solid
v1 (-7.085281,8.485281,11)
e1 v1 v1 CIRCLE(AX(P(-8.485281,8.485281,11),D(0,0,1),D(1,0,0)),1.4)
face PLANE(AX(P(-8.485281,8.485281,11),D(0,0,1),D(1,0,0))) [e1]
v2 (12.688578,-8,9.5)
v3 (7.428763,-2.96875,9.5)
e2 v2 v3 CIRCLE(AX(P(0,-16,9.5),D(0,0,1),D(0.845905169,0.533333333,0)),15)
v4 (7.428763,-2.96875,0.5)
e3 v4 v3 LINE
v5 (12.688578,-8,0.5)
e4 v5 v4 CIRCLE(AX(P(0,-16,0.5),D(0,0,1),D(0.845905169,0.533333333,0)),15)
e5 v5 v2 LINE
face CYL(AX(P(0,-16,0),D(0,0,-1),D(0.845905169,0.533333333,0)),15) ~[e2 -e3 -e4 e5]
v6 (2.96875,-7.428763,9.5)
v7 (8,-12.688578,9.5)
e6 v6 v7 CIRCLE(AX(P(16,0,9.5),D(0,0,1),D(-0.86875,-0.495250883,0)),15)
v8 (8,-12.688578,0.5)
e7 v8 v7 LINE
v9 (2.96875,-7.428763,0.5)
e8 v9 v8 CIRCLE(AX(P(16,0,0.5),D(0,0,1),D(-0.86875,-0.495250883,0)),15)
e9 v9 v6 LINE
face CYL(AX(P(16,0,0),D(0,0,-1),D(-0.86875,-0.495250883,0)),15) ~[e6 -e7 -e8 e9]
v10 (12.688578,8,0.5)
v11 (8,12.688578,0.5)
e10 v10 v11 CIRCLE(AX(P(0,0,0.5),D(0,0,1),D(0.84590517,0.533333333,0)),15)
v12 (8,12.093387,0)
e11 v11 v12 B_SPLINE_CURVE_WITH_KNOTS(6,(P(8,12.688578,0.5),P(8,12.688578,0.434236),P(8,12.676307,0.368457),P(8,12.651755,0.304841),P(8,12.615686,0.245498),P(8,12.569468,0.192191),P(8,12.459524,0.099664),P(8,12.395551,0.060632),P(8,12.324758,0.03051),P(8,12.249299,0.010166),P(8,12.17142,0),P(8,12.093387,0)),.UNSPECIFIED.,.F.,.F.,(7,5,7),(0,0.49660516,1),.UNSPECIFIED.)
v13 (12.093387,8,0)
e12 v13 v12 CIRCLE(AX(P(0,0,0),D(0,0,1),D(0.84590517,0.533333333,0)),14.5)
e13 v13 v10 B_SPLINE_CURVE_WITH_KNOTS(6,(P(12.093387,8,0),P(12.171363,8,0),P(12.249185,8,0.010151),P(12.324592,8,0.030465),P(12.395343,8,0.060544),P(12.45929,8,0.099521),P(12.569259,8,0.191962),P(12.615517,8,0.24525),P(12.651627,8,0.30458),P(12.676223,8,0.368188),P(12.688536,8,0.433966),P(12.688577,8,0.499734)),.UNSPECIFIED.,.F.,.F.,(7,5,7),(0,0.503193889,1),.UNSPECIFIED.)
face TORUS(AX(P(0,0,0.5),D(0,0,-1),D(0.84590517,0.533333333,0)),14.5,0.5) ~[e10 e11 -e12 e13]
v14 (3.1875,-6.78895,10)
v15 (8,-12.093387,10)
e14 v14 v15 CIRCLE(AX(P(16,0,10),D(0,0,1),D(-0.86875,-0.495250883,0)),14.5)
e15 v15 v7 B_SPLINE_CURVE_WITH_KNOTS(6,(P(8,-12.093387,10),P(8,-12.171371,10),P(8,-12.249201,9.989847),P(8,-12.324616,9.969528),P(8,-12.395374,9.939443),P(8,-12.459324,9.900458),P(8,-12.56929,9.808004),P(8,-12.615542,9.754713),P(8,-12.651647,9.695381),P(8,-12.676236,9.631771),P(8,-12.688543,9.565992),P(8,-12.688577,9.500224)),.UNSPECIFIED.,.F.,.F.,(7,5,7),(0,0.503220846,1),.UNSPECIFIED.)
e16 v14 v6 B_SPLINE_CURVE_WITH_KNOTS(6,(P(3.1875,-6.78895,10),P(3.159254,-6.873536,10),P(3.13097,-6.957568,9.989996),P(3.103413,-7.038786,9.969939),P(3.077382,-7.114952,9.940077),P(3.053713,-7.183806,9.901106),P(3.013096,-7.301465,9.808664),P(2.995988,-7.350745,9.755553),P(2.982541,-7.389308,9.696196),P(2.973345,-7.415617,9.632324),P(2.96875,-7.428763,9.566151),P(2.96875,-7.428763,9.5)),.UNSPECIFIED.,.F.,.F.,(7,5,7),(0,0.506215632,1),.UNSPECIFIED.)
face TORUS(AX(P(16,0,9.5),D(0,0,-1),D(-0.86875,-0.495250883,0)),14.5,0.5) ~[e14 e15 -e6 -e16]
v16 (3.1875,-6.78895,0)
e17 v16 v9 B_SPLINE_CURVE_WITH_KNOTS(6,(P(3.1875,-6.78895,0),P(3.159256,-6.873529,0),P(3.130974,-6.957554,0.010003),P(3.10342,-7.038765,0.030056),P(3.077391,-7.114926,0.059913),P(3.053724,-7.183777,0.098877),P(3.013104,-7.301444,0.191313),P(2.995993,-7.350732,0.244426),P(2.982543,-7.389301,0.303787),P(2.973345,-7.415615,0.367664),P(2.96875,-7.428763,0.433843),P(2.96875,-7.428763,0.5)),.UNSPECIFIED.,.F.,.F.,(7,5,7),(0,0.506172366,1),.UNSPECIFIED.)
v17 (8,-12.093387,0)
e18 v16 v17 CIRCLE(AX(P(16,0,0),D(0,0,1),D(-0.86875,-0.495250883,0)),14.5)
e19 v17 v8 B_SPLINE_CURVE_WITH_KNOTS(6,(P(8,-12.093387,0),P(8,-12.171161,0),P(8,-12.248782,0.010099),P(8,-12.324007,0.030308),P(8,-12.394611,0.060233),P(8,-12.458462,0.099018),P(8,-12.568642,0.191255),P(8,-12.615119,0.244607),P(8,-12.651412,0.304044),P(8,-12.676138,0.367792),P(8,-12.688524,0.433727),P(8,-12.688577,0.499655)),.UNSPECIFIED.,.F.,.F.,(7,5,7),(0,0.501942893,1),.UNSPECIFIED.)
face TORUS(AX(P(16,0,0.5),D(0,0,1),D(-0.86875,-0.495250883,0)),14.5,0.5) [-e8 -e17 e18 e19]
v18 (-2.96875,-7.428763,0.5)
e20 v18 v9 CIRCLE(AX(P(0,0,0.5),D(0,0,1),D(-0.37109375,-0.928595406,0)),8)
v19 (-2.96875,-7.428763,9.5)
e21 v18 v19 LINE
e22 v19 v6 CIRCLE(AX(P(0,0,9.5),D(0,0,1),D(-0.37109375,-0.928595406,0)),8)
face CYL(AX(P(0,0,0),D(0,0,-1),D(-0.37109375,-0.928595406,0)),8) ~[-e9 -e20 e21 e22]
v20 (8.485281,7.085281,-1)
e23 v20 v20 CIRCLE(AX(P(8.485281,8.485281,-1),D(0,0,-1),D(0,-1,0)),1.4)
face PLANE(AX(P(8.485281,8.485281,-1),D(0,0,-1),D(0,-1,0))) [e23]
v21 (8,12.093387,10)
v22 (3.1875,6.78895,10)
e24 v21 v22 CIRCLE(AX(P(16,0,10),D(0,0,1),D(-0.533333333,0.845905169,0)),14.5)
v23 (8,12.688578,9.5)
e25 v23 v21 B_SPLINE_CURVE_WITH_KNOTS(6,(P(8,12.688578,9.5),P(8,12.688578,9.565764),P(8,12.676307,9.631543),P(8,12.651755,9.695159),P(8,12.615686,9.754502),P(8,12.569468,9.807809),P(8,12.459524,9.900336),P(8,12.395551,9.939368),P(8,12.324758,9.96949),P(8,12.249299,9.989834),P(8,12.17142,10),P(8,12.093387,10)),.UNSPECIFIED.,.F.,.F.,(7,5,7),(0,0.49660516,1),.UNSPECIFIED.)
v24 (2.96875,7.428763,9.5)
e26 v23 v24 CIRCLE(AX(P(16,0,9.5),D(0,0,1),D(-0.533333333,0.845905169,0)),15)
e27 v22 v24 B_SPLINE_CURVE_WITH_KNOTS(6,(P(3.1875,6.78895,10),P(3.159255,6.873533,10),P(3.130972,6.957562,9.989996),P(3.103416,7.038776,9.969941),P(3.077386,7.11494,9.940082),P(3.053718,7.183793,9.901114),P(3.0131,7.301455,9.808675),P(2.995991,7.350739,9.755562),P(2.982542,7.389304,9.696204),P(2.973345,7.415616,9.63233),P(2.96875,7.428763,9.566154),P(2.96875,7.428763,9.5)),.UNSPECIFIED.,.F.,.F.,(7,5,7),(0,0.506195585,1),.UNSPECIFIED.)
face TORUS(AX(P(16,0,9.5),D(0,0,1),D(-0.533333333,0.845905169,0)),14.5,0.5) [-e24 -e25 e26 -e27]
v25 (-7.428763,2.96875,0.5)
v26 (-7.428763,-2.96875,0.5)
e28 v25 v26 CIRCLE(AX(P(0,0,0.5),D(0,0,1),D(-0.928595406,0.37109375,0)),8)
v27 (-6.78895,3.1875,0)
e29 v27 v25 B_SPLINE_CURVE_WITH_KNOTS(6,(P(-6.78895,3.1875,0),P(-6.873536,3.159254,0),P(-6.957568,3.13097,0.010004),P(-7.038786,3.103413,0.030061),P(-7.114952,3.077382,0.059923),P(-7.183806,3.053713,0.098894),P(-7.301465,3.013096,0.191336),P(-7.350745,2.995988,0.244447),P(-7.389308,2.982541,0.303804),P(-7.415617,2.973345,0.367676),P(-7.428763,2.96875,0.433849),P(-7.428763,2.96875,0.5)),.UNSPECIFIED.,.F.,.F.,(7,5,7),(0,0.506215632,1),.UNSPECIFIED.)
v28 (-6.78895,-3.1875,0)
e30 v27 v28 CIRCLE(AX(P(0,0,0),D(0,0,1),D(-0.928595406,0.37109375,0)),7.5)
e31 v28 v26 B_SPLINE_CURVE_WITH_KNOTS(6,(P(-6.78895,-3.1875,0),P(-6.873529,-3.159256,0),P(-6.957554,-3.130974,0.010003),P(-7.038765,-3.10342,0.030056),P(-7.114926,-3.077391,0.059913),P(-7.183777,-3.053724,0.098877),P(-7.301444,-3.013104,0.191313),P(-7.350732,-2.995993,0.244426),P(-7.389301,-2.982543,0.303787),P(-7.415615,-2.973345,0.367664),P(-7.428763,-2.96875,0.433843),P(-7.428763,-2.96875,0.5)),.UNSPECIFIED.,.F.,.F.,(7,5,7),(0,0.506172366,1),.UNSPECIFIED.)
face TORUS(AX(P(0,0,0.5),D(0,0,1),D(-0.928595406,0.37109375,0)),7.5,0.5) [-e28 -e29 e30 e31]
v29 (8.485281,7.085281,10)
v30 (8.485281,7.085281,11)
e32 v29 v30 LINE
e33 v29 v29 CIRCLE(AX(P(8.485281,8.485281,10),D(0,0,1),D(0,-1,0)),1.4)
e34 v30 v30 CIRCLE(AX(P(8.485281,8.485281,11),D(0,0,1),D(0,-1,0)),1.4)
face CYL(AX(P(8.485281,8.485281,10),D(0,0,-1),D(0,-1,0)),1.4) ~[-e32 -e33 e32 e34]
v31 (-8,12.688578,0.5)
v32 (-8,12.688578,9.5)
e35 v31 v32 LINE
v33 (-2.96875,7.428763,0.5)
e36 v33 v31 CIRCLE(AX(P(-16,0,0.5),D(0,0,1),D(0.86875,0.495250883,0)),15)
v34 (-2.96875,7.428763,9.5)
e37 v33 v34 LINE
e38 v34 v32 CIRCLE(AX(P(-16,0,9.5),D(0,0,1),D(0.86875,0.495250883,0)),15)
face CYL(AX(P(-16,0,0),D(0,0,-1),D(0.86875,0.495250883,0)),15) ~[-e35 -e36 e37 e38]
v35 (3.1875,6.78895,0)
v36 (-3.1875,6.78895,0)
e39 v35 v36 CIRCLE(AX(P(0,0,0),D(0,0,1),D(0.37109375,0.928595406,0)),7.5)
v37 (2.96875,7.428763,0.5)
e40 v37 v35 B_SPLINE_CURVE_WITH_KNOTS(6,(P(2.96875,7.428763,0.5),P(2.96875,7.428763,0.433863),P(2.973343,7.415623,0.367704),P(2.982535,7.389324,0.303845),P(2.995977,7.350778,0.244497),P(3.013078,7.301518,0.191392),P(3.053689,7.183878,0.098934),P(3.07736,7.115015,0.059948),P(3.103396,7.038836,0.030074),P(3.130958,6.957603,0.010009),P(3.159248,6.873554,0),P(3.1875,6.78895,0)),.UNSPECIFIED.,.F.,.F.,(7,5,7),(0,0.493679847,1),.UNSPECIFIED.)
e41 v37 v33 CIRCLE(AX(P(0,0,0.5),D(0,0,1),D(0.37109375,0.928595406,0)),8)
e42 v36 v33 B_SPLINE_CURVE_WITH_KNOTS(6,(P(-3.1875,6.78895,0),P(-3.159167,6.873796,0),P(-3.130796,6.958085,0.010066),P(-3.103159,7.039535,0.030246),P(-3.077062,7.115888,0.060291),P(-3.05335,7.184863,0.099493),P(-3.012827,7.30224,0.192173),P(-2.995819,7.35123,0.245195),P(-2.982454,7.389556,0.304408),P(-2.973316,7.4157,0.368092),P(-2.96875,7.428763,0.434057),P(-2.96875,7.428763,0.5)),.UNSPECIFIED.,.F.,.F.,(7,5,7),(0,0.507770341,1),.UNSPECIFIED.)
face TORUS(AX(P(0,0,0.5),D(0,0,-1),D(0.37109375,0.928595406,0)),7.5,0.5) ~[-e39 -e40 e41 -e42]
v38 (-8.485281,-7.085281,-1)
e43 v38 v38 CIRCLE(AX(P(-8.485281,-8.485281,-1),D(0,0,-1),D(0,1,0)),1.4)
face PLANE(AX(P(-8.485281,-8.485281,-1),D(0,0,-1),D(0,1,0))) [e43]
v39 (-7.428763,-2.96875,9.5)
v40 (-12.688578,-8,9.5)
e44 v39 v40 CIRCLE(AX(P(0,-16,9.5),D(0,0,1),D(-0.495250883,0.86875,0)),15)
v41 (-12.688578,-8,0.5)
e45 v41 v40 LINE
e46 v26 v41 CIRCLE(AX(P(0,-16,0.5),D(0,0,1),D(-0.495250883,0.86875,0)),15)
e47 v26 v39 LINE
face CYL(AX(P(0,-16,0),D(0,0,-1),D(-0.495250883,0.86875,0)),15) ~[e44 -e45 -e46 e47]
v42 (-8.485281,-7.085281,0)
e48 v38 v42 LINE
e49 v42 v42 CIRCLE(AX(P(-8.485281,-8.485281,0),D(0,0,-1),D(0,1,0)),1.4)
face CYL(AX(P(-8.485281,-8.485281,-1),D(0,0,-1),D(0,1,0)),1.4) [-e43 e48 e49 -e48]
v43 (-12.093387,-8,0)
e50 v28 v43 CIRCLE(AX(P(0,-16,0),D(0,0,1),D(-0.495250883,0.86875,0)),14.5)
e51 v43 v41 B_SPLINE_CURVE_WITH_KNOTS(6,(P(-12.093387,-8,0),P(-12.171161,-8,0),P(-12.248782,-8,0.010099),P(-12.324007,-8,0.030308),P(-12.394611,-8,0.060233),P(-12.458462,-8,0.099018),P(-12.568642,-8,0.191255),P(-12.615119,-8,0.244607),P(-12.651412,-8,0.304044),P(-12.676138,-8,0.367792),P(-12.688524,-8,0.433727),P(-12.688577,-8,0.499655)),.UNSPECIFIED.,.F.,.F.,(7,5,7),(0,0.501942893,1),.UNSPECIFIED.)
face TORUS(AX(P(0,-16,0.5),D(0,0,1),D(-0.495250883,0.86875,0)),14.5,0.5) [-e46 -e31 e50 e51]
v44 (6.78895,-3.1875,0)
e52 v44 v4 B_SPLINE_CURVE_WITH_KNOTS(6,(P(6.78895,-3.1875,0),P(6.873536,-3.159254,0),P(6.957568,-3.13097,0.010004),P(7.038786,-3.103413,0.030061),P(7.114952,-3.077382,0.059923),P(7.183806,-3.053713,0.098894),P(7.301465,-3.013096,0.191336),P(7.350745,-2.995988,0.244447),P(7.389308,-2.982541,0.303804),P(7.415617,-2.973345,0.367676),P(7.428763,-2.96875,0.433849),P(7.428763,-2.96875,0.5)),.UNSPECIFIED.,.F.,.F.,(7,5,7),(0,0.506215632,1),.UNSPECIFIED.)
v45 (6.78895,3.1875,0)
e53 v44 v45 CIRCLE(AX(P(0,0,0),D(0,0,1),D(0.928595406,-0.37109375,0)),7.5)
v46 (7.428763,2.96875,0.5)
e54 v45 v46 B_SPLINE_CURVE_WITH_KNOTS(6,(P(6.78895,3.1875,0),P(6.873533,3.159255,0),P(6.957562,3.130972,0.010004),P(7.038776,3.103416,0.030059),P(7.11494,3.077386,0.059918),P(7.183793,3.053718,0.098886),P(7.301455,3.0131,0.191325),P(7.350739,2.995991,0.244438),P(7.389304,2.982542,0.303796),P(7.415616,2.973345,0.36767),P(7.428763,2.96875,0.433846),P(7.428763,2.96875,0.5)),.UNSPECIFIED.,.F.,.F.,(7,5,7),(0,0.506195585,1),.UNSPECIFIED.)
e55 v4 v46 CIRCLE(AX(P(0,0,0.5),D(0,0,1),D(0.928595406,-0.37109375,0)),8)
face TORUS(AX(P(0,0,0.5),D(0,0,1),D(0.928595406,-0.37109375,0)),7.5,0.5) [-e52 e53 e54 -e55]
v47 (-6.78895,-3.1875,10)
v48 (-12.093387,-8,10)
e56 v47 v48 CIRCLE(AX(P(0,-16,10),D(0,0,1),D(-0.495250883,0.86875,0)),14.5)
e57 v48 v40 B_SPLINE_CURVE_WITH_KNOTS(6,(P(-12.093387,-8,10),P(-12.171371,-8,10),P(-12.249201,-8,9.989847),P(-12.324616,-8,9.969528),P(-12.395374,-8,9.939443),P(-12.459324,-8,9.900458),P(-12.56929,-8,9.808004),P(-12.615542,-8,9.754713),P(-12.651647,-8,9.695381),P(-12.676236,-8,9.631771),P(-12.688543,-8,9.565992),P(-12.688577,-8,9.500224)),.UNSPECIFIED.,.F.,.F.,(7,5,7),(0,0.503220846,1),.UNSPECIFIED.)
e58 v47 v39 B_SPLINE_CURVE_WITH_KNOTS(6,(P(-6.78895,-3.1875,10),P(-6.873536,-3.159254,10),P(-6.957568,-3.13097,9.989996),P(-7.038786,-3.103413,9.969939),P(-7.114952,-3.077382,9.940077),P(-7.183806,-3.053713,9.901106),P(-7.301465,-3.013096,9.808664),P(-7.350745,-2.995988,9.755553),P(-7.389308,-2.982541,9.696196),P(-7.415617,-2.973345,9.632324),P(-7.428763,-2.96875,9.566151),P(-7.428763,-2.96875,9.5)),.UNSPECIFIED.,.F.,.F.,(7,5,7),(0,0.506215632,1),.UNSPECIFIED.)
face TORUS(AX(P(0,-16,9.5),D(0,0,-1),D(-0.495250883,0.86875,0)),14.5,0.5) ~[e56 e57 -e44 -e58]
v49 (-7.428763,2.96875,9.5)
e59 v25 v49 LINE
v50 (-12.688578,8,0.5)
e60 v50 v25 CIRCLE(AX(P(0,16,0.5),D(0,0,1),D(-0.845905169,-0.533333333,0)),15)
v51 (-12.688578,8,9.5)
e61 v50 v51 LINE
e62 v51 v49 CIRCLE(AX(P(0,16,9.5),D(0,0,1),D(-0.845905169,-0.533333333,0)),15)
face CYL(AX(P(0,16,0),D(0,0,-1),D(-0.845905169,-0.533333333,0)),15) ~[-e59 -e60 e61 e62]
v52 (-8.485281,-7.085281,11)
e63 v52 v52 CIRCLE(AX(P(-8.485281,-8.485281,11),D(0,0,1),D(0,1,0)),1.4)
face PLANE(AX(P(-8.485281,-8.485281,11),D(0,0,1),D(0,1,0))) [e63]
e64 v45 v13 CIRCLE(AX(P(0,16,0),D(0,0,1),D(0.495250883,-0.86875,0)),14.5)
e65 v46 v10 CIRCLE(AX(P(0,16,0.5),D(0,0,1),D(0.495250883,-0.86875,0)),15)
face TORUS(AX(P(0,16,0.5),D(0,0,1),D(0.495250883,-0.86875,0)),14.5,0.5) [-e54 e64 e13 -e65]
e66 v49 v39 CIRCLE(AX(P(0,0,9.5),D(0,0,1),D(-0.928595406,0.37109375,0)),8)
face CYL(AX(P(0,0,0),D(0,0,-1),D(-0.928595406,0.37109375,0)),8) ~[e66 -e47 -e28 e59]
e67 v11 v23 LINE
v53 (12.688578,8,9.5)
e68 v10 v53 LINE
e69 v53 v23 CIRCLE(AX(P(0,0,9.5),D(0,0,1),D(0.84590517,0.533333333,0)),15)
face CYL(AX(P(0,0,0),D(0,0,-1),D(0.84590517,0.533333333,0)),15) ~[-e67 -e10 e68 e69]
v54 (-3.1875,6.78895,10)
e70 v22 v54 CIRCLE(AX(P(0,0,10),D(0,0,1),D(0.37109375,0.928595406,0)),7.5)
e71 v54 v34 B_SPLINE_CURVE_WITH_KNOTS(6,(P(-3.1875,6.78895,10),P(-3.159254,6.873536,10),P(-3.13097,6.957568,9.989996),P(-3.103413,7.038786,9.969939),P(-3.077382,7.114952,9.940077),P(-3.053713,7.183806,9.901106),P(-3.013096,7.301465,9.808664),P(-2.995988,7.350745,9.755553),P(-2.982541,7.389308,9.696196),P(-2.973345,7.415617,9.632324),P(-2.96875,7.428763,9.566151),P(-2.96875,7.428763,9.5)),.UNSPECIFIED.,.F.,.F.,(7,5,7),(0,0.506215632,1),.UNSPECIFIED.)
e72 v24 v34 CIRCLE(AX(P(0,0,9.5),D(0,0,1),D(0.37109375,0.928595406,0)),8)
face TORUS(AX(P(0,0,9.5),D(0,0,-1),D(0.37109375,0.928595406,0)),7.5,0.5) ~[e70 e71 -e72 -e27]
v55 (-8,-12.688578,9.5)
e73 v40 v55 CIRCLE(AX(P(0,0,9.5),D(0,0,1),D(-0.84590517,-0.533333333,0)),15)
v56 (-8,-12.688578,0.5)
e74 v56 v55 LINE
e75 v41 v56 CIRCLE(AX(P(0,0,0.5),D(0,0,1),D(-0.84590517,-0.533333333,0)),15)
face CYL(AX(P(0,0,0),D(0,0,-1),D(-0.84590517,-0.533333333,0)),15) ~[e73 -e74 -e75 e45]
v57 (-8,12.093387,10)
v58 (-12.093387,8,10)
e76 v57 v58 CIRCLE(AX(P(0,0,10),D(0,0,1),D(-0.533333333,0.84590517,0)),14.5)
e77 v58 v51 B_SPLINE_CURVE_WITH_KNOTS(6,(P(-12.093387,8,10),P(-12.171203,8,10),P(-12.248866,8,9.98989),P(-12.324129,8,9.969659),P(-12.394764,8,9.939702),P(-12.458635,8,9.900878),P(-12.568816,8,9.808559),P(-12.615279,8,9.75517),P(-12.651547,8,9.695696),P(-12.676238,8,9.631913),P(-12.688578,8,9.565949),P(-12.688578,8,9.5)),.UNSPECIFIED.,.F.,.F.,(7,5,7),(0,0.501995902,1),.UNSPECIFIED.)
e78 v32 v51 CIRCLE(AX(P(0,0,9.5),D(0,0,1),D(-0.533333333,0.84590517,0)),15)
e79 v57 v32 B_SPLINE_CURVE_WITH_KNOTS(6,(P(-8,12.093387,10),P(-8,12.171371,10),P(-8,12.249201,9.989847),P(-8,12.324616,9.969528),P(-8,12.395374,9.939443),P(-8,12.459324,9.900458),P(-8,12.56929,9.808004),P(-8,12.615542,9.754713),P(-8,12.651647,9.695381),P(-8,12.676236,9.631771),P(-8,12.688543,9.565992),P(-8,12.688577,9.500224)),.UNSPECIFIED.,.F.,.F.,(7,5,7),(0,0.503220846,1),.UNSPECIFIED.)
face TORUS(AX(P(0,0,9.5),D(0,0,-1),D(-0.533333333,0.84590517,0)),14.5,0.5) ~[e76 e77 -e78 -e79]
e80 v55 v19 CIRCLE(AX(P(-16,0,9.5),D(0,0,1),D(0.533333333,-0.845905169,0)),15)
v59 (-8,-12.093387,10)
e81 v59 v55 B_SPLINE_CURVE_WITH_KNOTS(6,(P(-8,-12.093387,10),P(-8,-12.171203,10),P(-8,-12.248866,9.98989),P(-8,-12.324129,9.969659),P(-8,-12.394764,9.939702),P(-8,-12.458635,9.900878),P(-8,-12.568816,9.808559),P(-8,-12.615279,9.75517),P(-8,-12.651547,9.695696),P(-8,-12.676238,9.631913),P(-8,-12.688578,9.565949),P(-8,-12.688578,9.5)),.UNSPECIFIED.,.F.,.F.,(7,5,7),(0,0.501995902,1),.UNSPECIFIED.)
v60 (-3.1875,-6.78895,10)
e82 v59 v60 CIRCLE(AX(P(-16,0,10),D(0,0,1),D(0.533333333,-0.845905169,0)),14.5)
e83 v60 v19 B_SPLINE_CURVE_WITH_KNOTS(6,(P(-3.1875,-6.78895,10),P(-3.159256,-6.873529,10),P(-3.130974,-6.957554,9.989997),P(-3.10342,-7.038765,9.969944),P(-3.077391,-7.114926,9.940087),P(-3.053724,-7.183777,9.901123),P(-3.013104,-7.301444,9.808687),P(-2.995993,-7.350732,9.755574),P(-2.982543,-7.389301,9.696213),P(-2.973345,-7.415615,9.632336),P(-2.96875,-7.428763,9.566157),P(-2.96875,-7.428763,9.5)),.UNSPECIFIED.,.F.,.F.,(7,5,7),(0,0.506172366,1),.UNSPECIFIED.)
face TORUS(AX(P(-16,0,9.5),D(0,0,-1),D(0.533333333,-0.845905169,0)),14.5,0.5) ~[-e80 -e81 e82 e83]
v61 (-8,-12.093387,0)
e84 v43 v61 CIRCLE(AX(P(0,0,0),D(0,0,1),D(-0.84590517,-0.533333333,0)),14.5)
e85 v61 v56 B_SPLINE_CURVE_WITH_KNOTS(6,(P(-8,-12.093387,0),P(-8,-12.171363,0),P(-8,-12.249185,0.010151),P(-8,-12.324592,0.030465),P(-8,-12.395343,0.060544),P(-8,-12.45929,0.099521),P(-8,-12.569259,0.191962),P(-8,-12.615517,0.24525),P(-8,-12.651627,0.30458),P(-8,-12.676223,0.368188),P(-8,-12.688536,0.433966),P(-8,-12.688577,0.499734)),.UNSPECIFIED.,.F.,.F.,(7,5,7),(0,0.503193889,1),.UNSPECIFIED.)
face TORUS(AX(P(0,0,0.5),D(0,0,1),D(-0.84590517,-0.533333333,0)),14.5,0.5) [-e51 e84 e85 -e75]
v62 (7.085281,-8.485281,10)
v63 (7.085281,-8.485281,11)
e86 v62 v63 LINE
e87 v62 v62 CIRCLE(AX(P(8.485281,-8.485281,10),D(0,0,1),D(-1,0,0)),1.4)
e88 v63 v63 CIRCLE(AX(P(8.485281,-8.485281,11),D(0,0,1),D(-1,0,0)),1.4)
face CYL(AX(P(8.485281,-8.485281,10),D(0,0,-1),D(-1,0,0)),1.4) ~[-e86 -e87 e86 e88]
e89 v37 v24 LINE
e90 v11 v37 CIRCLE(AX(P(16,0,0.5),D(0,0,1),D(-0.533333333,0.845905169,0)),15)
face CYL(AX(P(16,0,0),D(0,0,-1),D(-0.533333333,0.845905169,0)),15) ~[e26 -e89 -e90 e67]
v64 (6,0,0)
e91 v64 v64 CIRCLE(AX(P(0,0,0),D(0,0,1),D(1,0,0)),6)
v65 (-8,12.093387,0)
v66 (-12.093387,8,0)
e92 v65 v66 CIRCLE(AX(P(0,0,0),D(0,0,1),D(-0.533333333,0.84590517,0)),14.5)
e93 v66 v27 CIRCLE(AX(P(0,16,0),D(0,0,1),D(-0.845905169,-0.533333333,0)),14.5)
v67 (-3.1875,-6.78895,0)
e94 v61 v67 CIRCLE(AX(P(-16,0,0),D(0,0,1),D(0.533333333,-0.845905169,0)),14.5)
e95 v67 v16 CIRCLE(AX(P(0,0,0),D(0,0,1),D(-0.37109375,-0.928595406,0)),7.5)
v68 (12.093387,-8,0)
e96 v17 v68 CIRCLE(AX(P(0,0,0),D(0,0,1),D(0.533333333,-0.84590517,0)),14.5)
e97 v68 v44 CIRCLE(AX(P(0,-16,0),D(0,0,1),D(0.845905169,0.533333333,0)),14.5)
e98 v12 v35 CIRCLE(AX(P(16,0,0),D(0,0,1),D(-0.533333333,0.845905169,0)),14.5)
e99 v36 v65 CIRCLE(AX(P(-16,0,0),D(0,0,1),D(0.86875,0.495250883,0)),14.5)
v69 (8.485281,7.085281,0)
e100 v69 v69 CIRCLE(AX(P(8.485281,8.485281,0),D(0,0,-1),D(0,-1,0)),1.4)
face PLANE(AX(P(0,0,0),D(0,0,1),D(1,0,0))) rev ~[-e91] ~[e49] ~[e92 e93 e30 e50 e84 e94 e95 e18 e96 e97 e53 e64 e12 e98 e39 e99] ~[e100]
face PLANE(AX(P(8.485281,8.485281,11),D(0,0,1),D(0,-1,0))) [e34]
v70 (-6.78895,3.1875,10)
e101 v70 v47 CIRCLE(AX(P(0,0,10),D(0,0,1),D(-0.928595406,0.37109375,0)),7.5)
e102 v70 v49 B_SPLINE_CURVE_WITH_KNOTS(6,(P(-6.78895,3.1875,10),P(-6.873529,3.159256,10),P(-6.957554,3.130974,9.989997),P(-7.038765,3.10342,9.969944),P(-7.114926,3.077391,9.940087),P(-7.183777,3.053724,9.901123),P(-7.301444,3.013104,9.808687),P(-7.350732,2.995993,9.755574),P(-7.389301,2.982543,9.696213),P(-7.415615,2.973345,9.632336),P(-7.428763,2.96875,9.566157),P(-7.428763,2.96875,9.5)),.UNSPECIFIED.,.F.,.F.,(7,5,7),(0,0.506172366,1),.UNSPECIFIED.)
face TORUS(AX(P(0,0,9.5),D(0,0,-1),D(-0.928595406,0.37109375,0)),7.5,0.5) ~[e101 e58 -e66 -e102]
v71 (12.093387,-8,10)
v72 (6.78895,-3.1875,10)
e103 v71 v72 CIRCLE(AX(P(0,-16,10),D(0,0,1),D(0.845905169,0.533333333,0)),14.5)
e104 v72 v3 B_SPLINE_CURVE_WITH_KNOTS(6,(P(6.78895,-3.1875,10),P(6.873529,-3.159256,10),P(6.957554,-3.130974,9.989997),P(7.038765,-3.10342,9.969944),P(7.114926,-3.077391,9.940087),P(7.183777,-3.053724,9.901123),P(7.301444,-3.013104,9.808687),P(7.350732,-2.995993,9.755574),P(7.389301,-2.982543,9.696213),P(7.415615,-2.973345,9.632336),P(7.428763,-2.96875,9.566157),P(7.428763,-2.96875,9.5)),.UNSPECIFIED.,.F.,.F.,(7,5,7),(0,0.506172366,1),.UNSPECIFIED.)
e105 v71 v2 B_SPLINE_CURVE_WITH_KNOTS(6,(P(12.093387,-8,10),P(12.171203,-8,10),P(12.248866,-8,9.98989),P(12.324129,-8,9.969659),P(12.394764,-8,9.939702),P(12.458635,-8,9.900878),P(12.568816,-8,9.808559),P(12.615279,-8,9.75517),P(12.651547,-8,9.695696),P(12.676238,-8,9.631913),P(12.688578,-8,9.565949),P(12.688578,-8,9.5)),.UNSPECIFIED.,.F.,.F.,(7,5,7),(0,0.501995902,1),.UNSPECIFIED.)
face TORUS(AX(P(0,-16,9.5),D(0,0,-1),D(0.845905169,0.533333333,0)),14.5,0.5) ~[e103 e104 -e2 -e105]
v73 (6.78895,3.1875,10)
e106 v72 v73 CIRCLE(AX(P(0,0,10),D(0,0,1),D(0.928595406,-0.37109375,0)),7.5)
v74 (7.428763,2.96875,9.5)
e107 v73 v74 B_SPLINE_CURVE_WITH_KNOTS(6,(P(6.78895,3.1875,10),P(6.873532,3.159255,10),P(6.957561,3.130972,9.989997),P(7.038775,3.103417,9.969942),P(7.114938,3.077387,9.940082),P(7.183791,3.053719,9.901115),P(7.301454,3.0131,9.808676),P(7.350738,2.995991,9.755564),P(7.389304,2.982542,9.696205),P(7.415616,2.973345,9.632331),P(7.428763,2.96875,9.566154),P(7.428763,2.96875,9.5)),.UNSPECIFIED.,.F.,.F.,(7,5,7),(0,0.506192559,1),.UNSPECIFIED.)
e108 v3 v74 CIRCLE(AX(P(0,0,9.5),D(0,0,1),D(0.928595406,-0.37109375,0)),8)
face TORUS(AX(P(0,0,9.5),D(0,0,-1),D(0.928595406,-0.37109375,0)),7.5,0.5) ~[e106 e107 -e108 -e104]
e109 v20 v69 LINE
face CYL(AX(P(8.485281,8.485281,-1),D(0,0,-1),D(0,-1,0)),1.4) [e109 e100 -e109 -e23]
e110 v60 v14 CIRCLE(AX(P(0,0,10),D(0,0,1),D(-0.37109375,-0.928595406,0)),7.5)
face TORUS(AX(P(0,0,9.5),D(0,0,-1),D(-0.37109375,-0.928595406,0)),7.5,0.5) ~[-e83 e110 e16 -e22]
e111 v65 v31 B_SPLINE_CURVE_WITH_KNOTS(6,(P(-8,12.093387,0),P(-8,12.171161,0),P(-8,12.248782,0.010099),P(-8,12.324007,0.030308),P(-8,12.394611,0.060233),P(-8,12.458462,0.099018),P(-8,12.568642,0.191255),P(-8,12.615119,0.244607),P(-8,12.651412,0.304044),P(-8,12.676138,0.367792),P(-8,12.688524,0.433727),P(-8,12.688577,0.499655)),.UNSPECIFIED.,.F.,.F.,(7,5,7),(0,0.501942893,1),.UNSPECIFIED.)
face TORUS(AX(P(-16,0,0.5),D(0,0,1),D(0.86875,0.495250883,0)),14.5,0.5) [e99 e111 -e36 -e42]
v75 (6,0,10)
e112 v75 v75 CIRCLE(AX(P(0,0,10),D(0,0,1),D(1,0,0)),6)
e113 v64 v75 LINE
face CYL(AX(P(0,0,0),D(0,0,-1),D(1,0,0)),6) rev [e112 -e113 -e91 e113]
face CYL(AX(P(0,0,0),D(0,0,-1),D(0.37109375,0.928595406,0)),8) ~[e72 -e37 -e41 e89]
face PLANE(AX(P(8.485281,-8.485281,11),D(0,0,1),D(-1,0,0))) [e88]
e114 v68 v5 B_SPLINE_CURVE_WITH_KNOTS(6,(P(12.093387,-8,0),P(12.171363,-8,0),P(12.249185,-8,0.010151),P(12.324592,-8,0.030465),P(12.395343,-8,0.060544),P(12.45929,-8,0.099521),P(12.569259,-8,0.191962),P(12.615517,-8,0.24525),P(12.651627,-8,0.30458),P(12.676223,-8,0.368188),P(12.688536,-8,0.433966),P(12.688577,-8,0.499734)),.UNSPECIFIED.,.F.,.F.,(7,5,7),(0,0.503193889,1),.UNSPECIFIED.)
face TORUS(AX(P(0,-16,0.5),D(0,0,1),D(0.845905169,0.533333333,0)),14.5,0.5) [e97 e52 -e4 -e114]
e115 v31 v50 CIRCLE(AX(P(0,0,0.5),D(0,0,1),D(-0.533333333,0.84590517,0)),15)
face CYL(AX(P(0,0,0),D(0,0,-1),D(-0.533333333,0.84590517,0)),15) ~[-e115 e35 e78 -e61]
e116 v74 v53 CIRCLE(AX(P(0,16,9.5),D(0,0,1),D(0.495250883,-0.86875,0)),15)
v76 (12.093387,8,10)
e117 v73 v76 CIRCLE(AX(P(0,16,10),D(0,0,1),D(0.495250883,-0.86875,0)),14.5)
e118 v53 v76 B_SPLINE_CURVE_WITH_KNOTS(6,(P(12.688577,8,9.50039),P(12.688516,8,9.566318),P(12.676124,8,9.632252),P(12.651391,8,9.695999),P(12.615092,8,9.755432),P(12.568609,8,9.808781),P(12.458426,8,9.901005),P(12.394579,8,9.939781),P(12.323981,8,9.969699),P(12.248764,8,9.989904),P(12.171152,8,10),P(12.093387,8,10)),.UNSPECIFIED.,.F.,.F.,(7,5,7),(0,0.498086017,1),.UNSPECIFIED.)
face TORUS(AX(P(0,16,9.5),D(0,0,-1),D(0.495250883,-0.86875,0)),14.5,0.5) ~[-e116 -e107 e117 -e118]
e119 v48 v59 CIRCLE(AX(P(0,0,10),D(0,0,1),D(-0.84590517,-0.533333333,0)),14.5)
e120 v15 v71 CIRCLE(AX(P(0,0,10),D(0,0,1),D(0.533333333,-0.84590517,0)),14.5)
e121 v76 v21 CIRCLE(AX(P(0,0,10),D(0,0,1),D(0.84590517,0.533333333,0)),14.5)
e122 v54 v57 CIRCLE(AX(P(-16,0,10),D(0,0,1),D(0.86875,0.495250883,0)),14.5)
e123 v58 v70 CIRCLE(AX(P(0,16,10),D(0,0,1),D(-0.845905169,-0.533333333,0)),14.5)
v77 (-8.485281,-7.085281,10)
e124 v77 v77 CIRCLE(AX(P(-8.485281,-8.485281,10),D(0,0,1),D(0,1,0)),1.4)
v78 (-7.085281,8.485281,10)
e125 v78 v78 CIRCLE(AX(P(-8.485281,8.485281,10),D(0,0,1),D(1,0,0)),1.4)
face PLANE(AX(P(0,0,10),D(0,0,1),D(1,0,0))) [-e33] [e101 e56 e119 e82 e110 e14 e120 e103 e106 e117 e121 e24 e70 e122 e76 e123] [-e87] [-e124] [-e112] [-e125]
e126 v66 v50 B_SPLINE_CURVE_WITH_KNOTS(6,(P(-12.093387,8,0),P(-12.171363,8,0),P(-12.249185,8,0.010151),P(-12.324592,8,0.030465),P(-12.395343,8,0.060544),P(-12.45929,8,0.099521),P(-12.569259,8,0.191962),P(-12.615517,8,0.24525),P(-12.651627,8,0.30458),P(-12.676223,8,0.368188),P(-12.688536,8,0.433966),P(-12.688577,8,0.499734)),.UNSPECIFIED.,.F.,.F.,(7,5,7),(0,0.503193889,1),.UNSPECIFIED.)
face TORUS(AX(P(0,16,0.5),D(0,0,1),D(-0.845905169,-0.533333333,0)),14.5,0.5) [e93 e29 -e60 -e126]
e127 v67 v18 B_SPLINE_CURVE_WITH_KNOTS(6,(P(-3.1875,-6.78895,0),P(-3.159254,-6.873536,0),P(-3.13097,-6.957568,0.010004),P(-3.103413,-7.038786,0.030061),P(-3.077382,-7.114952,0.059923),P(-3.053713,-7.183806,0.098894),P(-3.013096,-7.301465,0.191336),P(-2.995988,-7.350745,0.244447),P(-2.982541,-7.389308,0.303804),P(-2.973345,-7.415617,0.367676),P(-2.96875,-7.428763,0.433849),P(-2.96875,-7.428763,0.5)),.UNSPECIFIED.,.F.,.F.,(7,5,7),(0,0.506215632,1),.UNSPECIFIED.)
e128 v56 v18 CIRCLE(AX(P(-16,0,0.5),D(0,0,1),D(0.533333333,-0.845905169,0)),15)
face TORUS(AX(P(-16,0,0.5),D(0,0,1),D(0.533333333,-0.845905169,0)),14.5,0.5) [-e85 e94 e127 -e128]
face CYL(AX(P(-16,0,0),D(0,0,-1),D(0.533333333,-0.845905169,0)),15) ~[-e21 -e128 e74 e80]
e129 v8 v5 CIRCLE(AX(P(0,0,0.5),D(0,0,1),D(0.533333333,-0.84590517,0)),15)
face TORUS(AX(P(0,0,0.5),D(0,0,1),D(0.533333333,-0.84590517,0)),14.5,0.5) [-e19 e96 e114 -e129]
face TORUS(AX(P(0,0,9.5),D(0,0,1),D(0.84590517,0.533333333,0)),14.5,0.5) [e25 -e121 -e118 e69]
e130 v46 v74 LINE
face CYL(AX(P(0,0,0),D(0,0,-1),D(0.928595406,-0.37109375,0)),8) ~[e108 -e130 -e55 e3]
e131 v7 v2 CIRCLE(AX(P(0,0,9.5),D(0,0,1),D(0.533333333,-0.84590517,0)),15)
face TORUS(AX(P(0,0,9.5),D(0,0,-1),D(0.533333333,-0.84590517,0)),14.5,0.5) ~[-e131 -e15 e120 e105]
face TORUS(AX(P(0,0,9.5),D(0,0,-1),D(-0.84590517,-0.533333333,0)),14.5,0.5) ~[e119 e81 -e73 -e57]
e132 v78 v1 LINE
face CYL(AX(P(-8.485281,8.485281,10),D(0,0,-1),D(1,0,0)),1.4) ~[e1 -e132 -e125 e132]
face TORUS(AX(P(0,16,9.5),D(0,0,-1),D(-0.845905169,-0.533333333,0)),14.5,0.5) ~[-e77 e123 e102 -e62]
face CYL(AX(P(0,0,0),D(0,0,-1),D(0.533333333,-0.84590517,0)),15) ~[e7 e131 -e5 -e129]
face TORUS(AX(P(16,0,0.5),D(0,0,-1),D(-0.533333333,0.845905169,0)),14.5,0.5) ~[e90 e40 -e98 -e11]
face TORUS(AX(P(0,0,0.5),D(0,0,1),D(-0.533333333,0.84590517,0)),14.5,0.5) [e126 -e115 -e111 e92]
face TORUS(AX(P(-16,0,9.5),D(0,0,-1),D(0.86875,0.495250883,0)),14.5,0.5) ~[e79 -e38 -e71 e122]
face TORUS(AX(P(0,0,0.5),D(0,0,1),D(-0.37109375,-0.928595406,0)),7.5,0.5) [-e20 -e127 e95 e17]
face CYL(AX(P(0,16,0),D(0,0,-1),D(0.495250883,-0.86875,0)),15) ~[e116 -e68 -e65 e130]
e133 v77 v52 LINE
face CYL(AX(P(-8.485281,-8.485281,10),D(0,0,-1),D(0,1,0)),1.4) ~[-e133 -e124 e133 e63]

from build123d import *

# Parameters (mm, degrees)
SKETCH1_R           = 6
BOSS_EXTRUDE1_DEPTH = 10
SKETCH2_R           = 1.4
BOSS_EXTRUDE2_DEPTH = 1
CIRPATTERN1_COUNT   = 4
BOSS_EXTRUDE3_START = 1
SKETCH3_R           = 1.4
BOSS_EXTRUDE3_DEPTH = 1
CIRPATTERN2_COUNT   = 2
FILLET1_R           = 0.5
FILLET2_R           = 0.5


with BuildPart() as part:
    # Sketch1 → Boss-Extrude1 (new body)
    with BuildSketch(Plane.XY):
        with BuildLine():
            ThreePointArc((8, 12.68857754), (5.160499055, 10.368472369), (2.96875, 7.428763251))
            ThreePointArc((2.96875, 7.428763251), (0, 8), (-2.96875, 7.428763251))
            ThreePointArc((-2.96875, 7.428763251), (-5.160499055, 10.368472369), (-8, 12.68857754))
            ThreePointArc((-8, 12.68857754), (-10.606601718, 10.606601718), (-12.68857754, 8))
            ThreePointArc((-12.68857754, 8), (-10.368472369, 5.160499055), (-7.428763251, 2.96875))
            ThreePointArc((-7.428763251, 2.96875), (-8, 0), (-7.428763251, -2.96875))
            ThreePointArc((-7.428763251, -2.96875), (-10.368472369, -5.160499055), (-12.68857754, -8))
            ThreePointArc((-12.68857754, -8), (-10.606601718, -10.606601718), (-8, -12.68857754))
            ThreePointArc((-8, -12.68857754), (-5.160499055, -10.368472369), (-2.96875, -7.428763251))
            ThreePointArc((-2.96875, -7.428763251), (0, -8), (2.96875, -7.428763251))
            ThreePointArc((2.96875, -7.428763251), (5.160499055, -10.368472369), (8, -12.68857754))
            ThreePointArc((8, -12.68857754), (10.606601718, -10.606601718), (12.68857754, -8))
            ThreePointArc((12.68857754, -8), (10.368472369, -5.160499055), (7.428763251, -2.96875))
            ThreePointArc((7.428763251, -2.96875), (8, 0), (7.428763251, 2.96875))
            ThreePointArc((7.428763251, 2.96875), (10.368472369, 5.160499055), (12.68857754, 8))
            ThreePointArc((12.68857754, 8), (10.606601718, 10.606601718), (8, 12.68857754))
        make_face()
        Circle(SKETCH1_R, mode=Mode.SUBTRACT)
    extrude(amount=BOSS_EXTRUDE1_DEPTH)

    # Sketch2 → Boss-Extrude2 (add)
    with BuildSketch(Plane.XY.offset(10)):
        with Locations((-8.485281374, 8.485281374)):
            Circle(SKETCH2_R)
    boss_extrude2 = extrude(amount=BOSS_EXTRUDE2_DEPTH)

    # CirPattern1: Boss-Extrude2 ×4 about axis
    cirpattern1_axis = Axis((0, 0, 0), (0, 0, 1))
    for i in range(1, CIRPATTERN1_COUNT):
        add(boss_extrude2.rotate(cirpattern1_axis, i * 360 / CIRPATTERN1_COUNT))

    # Sketch3 → Boss-Extrude3 (add)
    with BuildSketch(Plane(origin=(0, 0, 0), x_dir=(-1, 0, 0), z_dir=(0, 0, -1)).offset(BOSS_EXTRUDE3_START)):
        with Locations((-8.485281374, 8.485281374)):
            Circle(SKETCH3_R)
    boss_extrude3 = extrude(amount=-BOSS_EXTRUDE3_DEPTH)

    # CirPattern2: Boss-Extrude3 ×2 about axis
    cirpattern2_axis = Axis((0, 0, 0), (0, 0, 1))
    for i in range(1, CIRPATTERN2_COUNT):
        add(boss_extrude3.rotate(cirpattern2_axis, i * 360 / CIRPATTERN2_COUNT))

    # Fillet1
    fillet1_edges = [part.edges().sort_by_distance(p)[0] for p in [
        (5.160499055, -10.368472369, 0),
        (0, -8, 0),
        (-5.160499055, -10.368472369, 0),
        (-10.606601718, -10.606601718, 0),
        (-10.368472369, -5.160499055, 0),
        (-8, 0, 0),
        (-10.368472369, 5.160499055, 0),
        (-10.606601718, 10.606601718, 0),
        (-5.160499055, 10.368472369, 0),
        (5.160499055, 10.368472369, 0),
        (10.606601718, 10.606601718, 0),
        (0, 8, 0),
        (10.368472369, 5.160499055, 0),
        (8, 0, 0),
        (10.368472369, -5.160499055, 0),
        (10.606601718, -10.606601718, 0),
    ]]
    fillet(fillet1_edges, radius=FILLET1_R)

    # Fillet2
    fillet2_edges = [part.edges().sort_by_distance(p)[0] for p in [
        (-10.368472369, 5.160499055, 10),
        (-8, 0, 10),
        (-10.368472369, -5.160499055, 10),
        (-10.606601718, -10.606601718, 10),
        (-5.160499055, -10.368472369, 10),
        (0, -8, 10),
        (5.160499055, -10.368472369, 10),
        (10.606601718, -10.606601718, 10),
        (10.368472369, -5.160499055, 10),
        (8, 0, 10),
        (10.368472369, 5.160499055, 10),
        (5.160499055, 10.368472369, 10),
        (10.606601718, 10.606601718, 10),
        (-5.160499055, 10.368472369, 10),
        (0, 8, 10),
        (-10.606601718, 10.606601718, 10),
    ]]
    fillet(fillet2_edges, radius=FILLET2_R)


solid = part.part
